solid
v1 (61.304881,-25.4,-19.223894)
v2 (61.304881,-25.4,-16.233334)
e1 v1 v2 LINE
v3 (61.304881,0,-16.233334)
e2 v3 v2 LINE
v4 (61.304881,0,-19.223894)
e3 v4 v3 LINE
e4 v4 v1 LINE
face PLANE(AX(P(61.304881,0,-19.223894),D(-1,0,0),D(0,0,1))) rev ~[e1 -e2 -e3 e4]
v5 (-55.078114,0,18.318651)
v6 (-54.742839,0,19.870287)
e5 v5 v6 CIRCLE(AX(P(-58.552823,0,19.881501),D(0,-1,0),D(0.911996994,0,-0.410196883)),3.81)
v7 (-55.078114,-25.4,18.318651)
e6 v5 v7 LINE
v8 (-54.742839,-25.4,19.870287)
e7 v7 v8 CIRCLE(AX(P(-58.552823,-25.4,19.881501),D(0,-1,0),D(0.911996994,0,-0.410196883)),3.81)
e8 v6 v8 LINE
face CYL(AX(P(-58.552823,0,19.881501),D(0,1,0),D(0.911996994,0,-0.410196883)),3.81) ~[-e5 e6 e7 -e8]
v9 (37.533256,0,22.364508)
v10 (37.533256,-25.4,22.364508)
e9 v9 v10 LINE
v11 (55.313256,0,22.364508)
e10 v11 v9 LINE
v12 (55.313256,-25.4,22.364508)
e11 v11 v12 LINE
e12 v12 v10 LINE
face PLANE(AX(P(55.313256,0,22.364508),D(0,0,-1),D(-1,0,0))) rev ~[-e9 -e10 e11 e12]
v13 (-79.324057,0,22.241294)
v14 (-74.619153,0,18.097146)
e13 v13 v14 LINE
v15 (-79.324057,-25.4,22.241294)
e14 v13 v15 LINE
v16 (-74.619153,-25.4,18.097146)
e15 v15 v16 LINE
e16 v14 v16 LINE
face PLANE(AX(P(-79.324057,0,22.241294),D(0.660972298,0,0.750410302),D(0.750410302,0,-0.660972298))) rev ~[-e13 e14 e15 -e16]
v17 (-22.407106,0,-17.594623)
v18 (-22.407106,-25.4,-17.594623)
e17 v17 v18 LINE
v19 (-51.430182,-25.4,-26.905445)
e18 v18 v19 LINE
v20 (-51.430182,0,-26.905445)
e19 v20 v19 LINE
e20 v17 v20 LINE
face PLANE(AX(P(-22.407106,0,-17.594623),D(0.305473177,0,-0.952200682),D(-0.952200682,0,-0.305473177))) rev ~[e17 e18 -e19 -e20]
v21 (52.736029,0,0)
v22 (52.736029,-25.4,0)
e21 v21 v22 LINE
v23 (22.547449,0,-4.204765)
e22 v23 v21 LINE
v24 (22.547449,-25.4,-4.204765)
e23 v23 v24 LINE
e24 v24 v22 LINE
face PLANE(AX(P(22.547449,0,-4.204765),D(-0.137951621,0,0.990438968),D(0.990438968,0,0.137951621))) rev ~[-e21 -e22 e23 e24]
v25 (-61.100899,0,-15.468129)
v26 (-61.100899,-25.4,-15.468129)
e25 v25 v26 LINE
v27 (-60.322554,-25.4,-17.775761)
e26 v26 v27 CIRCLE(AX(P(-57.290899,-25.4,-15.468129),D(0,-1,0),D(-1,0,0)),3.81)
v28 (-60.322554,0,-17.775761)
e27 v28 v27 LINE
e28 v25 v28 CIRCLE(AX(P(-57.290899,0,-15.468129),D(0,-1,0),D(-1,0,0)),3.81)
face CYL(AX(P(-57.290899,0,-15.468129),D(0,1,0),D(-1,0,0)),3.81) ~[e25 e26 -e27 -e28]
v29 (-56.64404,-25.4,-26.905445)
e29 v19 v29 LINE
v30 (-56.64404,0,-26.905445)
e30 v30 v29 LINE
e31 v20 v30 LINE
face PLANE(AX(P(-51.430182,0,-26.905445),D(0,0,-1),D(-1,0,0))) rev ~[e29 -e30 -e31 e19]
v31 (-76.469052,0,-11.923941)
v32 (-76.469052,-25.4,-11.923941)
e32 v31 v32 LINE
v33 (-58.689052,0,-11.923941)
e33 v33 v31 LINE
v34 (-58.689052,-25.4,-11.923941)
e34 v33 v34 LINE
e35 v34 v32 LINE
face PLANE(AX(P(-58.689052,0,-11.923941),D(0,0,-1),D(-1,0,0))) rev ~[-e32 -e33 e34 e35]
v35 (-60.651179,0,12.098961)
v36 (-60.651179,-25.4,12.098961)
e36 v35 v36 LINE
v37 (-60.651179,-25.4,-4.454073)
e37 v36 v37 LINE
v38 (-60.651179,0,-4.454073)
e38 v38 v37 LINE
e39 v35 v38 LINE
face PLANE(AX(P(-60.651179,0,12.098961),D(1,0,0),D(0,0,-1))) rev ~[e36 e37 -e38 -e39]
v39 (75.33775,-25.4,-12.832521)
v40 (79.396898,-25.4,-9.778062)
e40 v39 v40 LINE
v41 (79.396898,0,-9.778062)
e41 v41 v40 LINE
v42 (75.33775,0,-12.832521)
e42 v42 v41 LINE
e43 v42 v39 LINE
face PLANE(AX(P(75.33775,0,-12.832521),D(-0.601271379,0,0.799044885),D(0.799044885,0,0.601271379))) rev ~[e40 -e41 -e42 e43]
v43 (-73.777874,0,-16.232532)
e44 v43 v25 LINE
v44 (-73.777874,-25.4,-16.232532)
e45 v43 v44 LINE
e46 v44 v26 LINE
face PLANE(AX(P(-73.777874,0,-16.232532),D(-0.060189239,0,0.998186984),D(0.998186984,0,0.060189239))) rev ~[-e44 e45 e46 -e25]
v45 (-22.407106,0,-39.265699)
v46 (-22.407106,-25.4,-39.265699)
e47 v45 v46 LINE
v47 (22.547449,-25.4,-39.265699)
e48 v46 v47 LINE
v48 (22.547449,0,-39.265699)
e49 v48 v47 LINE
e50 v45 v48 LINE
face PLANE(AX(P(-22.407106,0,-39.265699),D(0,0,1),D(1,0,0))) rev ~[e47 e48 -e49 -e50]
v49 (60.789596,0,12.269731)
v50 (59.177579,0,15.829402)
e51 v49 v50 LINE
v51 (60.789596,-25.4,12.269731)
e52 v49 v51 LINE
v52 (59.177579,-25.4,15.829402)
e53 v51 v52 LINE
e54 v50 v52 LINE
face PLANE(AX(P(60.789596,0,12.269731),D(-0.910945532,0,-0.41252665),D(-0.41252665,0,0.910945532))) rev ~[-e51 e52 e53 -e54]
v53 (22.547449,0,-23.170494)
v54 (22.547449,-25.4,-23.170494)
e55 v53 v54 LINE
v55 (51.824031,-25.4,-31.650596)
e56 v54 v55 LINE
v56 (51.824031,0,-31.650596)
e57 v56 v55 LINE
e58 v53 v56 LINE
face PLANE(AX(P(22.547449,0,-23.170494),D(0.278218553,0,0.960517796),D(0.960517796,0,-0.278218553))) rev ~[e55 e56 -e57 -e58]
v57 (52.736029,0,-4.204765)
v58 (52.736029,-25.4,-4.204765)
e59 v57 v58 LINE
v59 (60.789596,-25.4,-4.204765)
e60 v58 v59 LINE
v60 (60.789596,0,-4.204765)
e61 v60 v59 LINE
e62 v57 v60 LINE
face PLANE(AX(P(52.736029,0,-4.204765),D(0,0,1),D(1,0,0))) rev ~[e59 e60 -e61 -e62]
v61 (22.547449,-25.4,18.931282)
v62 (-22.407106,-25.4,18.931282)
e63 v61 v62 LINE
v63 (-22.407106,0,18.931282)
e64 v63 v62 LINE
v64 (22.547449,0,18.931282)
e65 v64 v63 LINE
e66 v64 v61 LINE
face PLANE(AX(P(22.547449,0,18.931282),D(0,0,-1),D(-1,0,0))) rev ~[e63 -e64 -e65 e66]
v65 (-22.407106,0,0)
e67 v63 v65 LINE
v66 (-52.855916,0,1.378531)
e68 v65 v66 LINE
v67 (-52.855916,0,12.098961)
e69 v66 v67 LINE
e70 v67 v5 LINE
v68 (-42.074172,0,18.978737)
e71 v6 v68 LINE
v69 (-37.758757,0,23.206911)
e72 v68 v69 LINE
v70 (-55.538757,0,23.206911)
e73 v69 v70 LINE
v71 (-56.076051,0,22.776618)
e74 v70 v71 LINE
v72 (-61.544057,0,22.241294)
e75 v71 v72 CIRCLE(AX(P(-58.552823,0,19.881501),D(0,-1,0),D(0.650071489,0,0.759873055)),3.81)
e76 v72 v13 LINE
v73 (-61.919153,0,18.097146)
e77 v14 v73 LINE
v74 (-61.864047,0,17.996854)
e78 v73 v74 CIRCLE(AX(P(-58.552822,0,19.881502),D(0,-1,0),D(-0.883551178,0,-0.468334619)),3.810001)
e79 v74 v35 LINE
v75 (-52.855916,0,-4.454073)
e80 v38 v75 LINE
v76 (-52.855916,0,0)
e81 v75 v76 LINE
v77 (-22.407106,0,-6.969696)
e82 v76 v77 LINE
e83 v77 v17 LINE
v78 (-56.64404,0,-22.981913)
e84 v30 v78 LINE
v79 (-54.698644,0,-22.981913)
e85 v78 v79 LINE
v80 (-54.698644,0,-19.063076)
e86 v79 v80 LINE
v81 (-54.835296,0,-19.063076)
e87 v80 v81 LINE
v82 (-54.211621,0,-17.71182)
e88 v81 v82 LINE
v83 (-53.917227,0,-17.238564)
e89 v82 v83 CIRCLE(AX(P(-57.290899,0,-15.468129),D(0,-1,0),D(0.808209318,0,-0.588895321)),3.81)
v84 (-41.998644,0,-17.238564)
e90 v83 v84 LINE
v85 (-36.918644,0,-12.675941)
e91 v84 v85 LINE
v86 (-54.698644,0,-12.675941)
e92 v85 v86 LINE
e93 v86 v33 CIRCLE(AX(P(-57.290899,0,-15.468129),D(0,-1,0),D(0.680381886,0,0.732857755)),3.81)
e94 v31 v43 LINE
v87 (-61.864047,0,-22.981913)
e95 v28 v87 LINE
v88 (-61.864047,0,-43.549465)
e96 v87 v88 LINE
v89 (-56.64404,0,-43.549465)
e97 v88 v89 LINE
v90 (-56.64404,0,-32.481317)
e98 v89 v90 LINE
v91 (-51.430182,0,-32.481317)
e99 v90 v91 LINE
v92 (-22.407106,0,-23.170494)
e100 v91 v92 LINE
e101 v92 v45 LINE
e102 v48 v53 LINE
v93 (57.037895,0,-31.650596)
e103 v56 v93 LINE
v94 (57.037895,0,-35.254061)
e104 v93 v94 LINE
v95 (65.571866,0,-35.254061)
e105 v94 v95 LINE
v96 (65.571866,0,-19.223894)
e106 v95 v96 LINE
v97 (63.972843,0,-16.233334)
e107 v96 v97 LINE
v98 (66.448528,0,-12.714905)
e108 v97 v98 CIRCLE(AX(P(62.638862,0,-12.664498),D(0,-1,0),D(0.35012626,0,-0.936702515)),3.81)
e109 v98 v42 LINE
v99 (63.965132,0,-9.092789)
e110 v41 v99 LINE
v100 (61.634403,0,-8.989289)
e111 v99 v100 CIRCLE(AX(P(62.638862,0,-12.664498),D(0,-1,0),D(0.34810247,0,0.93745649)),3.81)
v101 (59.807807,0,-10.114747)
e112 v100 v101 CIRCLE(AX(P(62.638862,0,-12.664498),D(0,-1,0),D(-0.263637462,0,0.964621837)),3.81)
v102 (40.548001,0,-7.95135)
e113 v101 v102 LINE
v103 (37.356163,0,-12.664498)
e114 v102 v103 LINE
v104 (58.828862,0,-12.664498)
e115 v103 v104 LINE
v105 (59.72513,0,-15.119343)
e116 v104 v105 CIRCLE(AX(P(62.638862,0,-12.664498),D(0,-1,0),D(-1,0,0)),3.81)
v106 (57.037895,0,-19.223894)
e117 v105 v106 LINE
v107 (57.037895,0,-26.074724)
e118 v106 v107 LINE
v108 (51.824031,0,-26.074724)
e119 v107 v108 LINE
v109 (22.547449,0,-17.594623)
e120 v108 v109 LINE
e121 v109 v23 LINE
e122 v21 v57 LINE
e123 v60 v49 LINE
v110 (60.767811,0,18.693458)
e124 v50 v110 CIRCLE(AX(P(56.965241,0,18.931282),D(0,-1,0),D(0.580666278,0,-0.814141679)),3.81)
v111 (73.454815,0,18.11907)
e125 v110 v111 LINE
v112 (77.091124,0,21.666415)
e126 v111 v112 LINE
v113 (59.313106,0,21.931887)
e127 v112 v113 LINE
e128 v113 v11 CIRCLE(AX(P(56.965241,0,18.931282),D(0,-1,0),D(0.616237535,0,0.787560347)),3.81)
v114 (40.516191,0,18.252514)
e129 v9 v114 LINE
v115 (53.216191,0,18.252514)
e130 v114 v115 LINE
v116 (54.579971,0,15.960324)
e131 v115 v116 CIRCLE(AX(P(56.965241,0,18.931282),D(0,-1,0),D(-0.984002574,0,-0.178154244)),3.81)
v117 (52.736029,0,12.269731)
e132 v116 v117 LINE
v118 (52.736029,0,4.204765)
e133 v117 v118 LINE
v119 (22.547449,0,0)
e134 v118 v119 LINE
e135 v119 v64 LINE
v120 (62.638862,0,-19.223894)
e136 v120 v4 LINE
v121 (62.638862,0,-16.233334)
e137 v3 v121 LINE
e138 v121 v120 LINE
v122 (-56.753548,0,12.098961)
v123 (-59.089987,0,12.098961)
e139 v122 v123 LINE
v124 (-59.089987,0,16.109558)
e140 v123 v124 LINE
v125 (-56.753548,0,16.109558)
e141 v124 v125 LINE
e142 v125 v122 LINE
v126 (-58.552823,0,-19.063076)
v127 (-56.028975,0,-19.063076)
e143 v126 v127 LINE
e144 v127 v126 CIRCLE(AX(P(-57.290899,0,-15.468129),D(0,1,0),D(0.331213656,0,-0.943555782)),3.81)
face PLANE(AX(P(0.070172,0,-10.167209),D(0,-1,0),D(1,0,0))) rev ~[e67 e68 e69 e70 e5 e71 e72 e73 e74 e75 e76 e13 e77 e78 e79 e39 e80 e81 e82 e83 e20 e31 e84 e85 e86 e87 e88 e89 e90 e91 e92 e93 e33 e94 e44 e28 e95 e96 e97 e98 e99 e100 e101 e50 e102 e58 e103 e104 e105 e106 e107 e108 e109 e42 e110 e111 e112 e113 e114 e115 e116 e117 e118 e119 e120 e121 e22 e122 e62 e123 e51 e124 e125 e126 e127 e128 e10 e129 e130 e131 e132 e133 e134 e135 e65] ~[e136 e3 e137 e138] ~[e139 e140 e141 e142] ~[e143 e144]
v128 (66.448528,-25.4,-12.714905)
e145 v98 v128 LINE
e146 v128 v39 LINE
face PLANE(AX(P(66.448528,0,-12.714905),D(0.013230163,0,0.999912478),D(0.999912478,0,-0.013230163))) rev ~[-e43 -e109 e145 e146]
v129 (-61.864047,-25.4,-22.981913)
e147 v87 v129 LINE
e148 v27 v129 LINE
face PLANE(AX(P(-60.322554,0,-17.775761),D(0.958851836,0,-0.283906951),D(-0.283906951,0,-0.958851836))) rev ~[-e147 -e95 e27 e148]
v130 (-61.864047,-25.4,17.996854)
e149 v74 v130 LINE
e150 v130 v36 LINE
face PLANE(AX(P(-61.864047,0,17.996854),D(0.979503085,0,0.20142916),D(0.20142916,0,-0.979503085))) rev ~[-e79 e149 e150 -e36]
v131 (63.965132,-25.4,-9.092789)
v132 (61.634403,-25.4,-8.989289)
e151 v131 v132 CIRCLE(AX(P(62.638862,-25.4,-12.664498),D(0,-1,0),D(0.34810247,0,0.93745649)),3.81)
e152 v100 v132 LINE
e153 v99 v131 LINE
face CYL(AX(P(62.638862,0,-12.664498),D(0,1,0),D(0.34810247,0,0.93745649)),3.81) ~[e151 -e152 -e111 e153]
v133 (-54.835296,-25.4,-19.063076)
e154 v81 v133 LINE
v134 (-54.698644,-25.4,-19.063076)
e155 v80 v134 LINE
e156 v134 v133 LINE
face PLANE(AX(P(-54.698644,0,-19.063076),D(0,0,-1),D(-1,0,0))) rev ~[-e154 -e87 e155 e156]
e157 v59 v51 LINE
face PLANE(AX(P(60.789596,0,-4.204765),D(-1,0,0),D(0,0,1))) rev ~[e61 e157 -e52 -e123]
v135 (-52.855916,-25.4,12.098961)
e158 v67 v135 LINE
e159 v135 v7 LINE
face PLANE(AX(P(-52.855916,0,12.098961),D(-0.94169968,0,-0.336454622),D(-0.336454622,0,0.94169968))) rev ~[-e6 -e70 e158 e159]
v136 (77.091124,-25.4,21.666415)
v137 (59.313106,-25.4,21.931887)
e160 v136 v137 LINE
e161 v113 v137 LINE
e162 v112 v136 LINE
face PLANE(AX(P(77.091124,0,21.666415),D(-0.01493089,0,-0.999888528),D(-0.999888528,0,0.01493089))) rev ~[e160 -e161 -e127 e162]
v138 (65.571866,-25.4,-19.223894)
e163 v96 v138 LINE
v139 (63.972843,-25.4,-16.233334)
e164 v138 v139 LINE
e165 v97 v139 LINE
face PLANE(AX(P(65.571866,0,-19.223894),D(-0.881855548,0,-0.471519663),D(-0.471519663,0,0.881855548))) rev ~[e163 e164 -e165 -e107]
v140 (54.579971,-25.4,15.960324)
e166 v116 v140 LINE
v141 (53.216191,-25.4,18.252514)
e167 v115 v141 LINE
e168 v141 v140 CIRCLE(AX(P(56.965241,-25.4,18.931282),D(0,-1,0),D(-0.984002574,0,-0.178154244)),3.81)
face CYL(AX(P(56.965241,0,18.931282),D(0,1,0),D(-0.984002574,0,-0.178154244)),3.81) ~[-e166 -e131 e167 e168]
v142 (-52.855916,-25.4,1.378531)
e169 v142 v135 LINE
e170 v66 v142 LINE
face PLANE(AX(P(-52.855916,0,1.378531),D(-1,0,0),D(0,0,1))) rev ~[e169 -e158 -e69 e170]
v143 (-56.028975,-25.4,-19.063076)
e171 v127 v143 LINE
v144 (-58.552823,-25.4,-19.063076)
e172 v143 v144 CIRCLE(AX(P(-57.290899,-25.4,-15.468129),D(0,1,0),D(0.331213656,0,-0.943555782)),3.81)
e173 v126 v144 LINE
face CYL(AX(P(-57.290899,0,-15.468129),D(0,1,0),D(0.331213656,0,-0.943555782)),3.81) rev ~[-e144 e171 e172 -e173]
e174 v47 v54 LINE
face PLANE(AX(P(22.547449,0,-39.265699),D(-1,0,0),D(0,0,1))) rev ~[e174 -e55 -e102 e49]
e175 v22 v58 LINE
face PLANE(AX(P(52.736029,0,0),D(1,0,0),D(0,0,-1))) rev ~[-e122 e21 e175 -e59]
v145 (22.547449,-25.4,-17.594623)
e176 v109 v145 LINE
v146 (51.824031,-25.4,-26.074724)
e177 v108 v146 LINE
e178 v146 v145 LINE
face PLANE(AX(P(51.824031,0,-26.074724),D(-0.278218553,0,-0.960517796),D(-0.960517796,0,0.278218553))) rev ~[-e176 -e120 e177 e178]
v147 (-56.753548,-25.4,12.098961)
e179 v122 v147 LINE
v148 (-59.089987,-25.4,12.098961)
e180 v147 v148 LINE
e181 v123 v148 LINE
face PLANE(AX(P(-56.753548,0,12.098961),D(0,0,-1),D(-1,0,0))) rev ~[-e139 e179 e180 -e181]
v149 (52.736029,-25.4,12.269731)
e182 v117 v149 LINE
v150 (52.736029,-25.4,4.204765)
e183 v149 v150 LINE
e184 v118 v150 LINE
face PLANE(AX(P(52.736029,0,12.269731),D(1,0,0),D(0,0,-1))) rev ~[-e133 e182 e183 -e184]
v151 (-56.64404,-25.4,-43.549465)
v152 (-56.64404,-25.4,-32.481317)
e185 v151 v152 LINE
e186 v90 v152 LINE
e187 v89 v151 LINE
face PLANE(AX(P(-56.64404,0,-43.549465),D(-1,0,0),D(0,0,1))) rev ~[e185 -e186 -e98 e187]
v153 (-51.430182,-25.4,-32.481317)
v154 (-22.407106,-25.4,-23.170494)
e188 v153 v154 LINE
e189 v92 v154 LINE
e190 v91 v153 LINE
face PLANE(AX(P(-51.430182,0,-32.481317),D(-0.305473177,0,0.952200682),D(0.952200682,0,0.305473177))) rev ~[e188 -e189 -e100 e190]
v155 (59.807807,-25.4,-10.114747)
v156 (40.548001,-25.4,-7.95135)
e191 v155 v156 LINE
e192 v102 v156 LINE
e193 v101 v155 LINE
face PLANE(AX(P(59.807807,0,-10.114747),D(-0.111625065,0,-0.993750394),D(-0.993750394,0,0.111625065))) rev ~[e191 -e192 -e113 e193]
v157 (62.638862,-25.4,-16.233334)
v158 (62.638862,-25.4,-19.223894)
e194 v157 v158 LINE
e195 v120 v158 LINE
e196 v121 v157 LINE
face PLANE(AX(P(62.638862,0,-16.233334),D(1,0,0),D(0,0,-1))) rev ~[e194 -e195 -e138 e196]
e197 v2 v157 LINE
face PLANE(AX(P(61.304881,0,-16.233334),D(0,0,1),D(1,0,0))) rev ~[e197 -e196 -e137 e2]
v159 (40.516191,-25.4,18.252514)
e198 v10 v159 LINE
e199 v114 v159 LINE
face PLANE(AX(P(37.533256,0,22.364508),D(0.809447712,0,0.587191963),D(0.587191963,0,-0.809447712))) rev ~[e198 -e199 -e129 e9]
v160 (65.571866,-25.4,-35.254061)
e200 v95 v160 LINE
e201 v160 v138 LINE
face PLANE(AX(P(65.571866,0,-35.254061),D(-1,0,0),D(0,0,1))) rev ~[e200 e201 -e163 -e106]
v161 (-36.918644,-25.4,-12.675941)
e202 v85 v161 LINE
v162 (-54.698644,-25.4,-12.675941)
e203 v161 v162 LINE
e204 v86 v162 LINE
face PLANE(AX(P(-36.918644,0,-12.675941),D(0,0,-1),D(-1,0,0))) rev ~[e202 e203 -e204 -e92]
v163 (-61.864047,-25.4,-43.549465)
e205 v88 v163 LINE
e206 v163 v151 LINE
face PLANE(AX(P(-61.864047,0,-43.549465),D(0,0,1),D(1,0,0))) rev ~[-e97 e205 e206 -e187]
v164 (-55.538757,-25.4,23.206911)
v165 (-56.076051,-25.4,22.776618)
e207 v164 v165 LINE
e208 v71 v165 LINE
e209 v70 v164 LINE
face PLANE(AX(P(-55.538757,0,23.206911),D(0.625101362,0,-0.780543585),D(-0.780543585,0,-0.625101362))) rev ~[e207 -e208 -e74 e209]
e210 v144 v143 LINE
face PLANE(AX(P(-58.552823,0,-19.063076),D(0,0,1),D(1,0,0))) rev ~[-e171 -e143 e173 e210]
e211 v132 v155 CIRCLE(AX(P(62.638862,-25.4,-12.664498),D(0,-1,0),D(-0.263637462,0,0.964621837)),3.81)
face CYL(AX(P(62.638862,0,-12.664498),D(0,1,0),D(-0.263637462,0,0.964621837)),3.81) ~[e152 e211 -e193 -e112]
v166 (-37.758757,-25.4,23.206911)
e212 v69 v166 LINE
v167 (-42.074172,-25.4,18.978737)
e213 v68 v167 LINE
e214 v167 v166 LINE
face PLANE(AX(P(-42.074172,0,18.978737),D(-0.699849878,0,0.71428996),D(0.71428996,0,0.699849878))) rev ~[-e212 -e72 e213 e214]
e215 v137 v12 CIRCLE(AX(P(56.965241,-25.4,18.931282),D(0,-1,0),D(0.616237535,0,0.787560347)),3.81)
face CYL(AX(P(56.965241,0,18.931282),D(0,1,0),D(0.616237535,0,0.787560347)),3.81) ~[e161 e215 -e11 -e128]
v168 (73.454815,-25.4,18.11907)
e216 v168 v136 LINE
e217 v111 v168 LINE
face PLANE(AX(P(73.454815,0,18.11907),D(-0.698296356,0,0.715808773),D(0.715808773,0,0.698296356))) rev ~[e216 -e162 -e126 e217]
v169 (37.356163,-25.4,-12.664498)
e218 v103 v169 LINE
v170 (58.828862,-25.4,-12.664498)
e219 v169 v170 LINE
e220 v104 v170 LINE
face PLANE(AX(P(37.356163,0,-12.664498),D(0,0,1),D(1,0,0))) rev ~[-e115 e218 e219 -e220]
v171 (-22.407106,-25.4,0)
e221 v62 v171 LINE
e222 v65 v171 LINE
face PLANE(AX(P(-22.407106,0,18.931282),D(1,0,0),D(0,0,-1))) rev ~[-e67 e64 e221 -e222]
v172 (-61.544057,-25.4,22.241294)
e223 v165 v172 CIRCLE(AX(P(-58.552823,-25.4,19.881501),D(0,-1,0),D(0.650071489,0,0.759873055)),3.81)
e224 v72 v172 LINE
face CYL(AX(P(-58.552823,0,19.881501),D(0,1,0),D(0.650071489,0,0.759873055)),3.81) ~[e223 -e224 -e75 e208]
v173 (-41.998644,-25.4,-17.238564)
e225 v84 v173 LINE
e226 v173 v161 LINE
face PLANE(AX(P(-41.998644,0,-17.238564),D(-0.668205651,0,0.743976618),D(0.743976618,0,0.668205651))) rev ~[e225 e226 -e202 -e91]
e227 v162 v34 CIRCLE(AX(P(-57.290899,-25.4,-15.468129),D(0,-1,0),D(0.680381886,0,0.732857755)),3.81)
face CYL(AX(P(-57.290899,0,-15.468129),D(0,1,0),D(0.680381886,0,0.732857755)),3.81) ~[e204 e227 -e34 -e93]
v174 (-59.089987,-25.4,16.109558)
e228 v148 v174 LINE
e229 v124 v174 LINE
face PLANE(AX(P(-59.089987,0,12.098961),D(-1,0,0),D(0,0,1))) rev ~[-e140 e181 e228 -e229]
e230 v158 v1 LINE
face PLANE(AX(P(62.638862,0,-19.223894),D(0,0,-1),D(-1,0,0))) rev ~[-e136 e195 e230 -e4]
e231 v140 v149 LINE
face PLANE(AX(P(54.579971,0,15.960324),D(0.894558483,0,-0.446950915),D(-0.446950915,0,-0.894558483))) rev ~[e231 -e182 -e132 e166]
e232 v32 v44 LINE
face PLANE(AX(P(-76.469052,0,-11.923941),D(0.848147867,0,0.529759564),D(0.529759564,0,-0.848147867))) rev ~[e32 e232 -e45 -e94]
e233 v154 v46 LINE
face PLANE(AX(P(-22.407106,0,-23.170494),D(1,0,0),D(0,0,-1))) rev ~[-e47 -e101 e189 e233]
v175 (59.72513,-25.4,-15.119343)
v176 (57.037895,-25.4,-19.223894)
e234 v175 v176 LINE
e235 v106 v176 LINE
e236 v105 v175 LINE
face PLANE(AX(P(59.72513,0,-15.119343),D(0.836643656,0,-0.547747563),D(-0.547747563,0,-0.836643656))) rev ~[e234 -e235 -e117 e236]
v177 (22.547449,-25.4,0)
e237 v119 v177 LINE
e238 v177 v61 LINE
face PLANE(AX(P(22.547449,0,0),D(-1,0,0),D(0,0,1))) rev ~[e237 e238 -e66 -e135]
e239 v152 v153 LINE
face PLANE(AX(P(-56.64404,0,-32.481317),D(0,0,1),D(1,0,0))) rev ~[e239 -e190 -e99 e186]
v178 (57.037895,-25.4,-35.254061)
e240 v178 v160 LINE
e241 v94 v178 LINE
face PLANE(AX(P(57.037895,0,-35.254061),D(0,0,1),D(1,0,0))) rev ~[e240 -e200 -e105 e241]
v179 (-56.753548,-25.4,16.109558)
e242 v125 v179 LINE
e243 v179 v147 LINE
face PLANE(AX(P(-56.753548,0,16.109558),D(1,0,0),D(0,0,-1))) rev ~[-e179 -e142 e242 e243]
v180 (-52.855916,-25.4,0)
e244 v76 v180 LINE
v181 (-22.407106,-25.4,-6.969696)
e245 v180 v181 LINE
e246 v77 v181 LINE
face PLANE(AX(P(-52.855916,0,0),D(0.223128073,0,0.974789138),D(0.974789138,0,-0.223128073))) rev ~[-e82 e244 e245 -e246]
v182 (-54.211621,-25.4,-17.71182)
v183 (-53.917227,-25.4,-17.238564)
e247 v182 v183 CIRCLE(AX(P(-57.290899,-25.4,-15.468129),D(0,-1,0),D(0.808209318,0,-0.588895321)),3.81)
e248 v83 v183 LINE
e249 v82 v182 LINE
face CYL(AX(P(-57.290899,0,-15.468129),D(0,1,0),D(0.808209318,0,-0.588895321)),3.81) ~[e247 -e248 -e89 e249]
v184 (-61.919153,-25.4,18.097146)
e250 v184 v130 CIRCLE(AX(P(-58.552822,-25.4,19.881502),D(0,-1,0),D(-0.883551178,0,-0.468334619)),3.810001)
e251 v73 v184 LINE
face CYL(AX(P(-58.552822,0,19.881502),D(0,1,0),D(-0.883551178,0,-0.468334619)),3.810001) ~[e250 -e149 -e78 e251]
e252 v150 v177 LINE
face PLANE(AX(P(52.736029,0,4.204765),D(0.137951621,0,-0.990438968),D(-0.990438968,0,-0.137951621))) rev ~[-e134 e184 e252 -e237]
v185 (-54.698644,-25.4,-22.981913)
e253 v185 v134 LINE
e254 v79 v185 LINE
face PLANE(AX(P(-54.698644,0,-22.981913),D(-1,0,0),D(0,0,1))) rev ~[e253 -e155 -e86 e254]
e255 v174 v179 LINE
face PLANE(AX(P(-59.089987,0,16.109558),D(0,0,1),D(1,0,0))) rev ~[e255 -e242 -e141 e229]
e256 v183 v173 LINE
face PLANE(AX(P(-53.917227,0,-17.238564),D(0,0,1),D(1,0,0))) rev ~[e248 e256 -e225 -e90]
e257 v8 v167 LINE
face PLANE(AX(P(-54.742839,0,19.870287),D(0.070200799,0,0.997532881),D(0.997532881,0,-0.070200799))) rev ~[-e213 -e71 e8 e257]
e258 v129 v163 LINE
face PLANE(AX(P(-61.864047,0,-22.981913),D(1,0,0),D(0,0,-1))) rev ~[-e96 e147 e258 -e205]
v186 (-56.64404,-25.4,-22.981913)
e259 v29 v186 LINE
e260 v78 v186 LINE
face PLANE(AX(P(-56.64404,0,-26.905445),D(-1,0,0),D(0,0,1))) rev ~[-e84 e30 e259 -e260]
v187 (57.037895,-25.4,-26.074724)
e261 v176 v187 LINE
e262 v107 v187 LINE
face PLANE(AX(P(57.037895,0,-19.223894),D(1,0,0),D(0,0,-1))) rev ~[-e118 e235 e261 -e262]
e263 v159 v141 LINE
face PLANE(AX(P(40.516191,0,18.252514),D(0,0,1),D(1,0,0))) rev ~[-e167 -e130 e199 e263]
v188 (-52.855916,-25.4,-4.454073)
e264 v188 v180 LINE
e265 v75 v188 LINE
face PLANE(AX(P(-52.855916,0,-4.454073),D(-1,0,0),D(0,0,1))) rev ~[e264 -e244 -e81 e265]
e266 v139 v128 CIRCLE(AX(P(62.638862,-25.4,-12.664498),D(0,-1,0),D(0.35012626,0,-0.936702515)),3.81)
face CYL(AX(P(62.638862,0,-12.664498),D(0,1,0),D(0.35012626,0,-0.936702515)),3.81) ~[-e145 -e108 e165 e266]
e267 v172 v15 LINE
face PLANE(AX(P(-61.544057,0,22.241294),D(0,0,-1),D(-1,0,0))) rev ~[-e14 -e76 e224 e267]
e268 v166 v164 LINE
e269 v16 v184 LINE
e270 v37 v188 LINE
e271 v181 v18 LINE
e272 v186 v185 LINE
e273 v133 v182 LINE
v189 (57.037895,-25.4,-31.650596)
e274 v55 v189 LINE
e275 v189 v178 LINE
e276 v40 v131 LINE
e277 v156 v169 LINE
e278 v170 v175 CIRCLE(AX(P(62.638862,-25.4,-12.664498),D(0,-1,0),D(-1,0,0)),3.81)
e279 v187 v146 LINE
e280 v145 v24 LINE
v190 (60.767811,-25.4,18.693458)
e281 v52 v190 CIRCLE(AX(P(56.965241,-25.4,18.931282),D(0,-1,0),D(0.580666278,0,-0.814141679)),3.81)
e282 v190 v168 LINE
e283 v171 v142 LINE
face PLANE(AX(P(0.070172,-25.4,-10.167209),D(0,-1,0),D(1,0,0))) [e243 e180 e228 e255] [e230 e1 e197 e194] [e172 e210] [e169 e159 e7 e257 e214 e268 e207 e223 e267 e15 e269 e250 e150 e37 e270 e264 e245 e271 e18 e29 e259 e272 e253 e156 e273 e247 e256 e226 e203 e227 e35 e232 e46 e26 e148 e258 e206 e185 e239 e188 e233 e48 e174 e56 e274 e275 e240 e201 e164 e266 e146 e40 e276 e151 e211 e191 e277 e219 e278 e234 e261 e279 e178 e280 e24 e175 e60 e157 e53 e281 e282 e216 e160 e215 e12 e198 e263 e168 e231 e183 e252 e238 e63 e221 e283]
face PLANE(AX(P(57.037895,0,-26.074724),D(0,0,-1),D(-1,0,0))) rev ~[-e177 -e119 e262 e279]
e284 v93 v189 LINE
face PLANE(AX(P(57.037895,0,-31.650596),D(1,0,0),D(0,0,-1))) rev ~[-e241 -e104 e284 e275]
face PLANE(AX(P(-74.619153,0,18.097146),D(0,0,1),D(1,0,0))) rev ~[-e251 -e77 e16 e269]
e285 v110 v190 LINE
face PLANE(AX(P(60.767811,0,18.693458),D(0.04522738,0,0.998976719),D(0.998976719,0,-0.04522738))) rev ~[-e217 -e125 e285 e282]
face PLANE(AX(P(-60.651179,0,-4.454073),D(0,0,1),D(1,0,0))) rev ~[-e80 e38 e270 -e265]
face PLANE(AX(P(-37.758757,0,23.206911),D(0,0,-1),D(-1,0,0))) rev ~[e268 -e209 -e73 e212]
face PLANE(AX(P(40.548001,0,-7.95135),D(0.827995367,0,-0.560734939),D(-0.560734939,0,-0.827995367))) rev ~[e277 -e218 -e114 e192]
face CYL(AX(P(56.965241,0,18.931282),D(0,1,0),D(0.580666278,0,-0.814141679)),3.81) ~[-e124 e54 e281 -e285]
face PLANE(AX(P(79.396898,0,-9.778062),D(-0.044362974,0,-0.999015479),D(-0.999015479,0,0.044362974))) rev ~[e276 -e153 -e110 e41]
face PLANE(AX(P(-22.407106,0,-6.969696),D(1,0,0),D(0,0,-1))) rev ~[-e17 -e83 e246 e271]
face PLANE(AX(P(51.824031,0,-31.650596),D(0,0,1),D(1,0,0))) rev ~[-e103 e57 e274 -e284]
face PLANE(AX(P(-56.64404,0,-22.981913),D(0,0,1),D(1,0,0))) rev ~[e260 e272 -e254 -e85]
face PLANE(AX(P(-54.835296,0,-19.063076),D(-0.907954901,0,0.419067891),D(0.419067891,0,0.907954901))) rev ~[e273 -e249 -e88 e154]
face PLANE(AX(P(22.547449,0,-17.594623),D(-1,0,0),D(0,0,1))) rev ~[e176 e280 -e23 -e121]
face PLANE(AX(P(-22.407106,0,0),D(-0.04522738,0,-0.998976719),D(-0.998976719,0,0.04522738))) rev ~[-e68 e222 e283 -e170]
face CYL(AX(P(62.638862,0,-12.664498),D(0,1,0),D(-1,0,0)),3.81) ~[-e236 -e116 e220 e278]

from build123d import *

# Parameters (mm, degrees)
F1_DEPTH = 25.4


with BuildPart() as f1:
    # F0 (on Front) → F1 (new body)
    with BuildSketch(Plane.XZ):
        Polygon((22.5474490715, 18.9312816523), (-22.4071055408, 18.9312816523), (-22.4071055408, 0), (-22.4071055408, -6.9696964332), (-22.4071055408, -17.594622799), (-22.4071055408, -23.1704941269), (-22.4071055408, -39.2656994748), (22.5474490715, -39.2656994748), (22.5474490715, -23.1704941269), (22.5474490715, -17.594622799), (22.5474490715, -4.2047654179), (22.5474490715, 0), align=None)
        Polygon((-22.4071055408, -6.9696964332), (-22.4071055408, 0), (-52.8559159213, 1.3785305276), (-52.8559159213, 12.0989607125), (-56.7535475108, 12.0989607125), (-59.089986937, 12.0989607125), (-60.6511791004, 12.0989607125), (-60.6511791004, 1.3785305276), (-60.6511791004, -4.4540729796), (-52.8559159213, -4.4540729796), (-52.8559159213, 0), align=None)
        Polygon((52.7360288291, 4.2047654179), (22.5474490715, 0), (22.5474490715, -4.2047654179), (52.7360288291, 0), (52.7360288291, -4.2047654179), (60.7895958687, -4.2047654179), (60.7895958687, 12.2697306797), (59.0926311994, 12.2697306797), (56.7628123489, 12.2697306797), (52.7360288291, 12.2697306797), align=None)
        Polygon((-22.4071055408, -23.1704941269), (-22.4071055408, -17.594622799), (-51.4301823175, -26.9054452341), (-56.6440403175, -26.9054452341), (-56.6440403175, -22.9819128912), (-58.5528229446, -22.9819128912), (-61.8640467567, -22.9819128912), (-61.8640467567, -43.5494654834), (-56.6440403175, -43.5494654834), (-56.6440403175, -32.481316562), (-51.4301823175, -32.481316562), align=None)
        with BuildLine():
            Line((-56.7535475108, 12.0989607125), (-52.8559159213, 12.0989607125))
            Line((-52.8559159213, 12.0989607125), (-55.078114397, 18.3186511549))
            ThreePointArc((-55.078114397, 18.3186511549), (-56.262887732, 16.8364566613), (-58.0156589521, 16.1095581661))
            Line((-58.0156589521, 16.1095581661), (-56.7535475108, 16.1095581661))
            Line((-56.7535475108, 16.1095581661), (-56.7535475108, 12.0989607125))
        make_face()
        Polygon((51.8240314995, -26.0747242923), (22.5474490715, -17.594622799), (22.5474490715, -23.1704941269), (51.8240314995, -31.6505956202), (57.037895267, -31.6505956202), (57.037895267, -35.2540606945), (65.5718660751, -35.2540606945), (65.5718660751, -19.2238938555), (62.6388617216, -19.2238938555), (61.3048806711, -19.2238938555), (57.037895267, -19.2238938555), (57.037895267, -26.0747242923), align=None)
        with BuildLine():
            Line((54.5799710571, 15.960324229), (52.7360288291, 12.2697306797))
            Line((52.7360288291, 12.2697306797), (56.7628123489, 12.2697306797))
            Line((56.7628123489, 12.2697306797), (59.0926311994, 12.2697306797))
            Line((59.0926311994, 12.2697306797), (60.7895958687, 12.2697306797))
            Line((60.7895958687, 12.2697306797), (59.1775793711, 15.8294018559))
            ThreePointArc((59.1775793711, 15.8294018559), (56.8567905245, 15.1228254655), (54.5799710571, 15.960324229))
        make_face()
        with BuildLine():
            Line((-54.7428394485, 19.8702869995), (-55.078114397, 18.3186511549))
            ThreePointArc((-55.078114397, 18.3186511549), (-54.8287689719, 19.0768137561), (-54.7428394485, 19.8702869995))
        make_face()
        with BuildLine():
            ThreePointArc((-58.0156589521, 16.1095581661), (-56.262887732, 16.8364566613), (-55.078114397, 18.3186511549))
            Line((-55.078114397, 18.3186511549), (-54.7428394485, 19.8702869995))
            ThreePointArc((-54.7428394485, 19.8702869995), (-54.7428270706, 19.8758941331), (-54.7428229446, 19.8815012788))
            ThreePointArc((-54.7428229446, 19.8815012788), (-55.0921436229, 21.4751758479), (-56.0760505732, 22.7766176184))
            Line((-56.0760505732, 22.7766176184), (-61.919152939, 18.0971463901))
            ThreePointArc((-61.919152939, 18.0971463901), (-61.8919764107, 18.0467930924), (-61.8640467567, 17.9968536019))
            ThreePointArc((-61.8640467567, 17.9968536019), (-60.6959499098, 16.7314049611), (-59.089986937, 16.1095581661))
            Line((-59.089986937, 16.1095581661), (-58.0156589521, 16.1095581661))
        make_face()
        with BuildLine():
            ThreePointArc((53.2161910443, 18.2525139833), (53.6909466204, 16.983180707), (54.5799710571, 15.960324229))
            ThreePointArc((54.5799710571, 15.960324229), (56.8567905245, 15.1228254655), (59.1775793711, 15.8294018559))
            ThreePointArc((59.1775793711, 15.8294018559), (60.2962294962, 17.0817912782), (60.7678109959, 18.6934575763))
            ThreePointArc((60.7678109959, 18.6934575763), (60.7733829341, 18.8123115995), (60.7752408508, 18.9312816523))
            ThreePointArc((60.7752408508, 18.9312816523), (60.3902565943, 20.6002235797), (59.3131058603, 21.9318865742))
            ThreePointArc((59.3131058603, 21.9318865742), (57.3749391018, 22.7191896954), (55.3132558722, 22.3645083606))
            ThreePointArc((55.3132558722, 22.3645083606), (53.5711402885, 20.6622297662), (53.2161910443, 18.2525139833))
        make_face()
        with BuildLine():
            Line((-60.6511791004, 12.0989607125), (-59.089986937, 12.0989607125))
            Line((-59.089986937, 12.0989607125), (-59.089986937, 16.1095581661))
            ThreePointArc((-59.089986937, 16.1095581661), (-60.6959499098, 16.7314049611), (-61.8640467567, 17.9968536019))
            Line((-61.8640467567, 17.9968536019), (-60.6511791004, 12.0989607125))
        make_face()
        with BuildLine():
            ThreePointArc((-54.7428229446, 19.8815012788), (-54.7428270706, 19.8758941331), (-54.7428394485, 19.8702869995))
            Line((-54.7428394485, 19.8702869995), (-42.0741718651, 18.9787368555))
            Line((-42.0741718651, 18.9787368555), (-37.7587572973, 23.2069110257))
            Line((-37.7587572973, 23.2069110257), (-55.5387572973, 23.2069110257))
            Line((-55.5387572973, 23.2069110257), (-56.0760505732, 22.7766176184))
            ThreePointArc((-56.0760505732, 22.7766176184), (-55.0921436229, 21.4751758479), (-54.7428229446, 19.8815012788))
        make_face()
        with BuildLine():
            Line((40.5161910443, 18.2525139833), (53.2161910443, 18.2525139833))
            ThreePointArc((53.2161910443, 18.2525139833), (53.5711402885, 20.6622297662), (55.3132558722, 22.3645083606))
            Line((55.3132558722, 22.3645083606), (37.5332558722, 22.3645083606))
            Line((37.5332558722, 22.3645083606), (40.5161910443, 18.2525139833))
        make_face()
        Polygon((-54.8352957317, -19.0630764722), (-56.6440403175, -22.9819128912), (-54.6986439291, -22.9819128912), (-54.6986439291, -19.0630764722), align=None)
        with BuildLine():
            Line((-58.5528229446, -22.9819128912), (-56.6440403175, -22.9819128912))
            Line((-56.6440403175, -22.9819128912), (-54.8352957317, -19.0630764722))
            Line((-54.8352957317, -19.0630764722), (-56.0289748879, -19.0630764722))
            ThreePointArc((-56.0289748879, -19.0630764722), (-57.2908989162, -19.2781289417), (-58.5528229446, -19.0630764722))
            Line((-58.5528229446, -19.0630764722), (-58.5528229446, -22.9819128912))
        make_face()
        with BuildLine():
            Line((59.7251296844, -15.1193431804), (57.037895267, -19.2238938555))
            Line((57.037895267, -19.2238938555), (61.3048806711, -19.2238938555))
            Line((61.3048806711, -19.2238938555), (61.3048806711, -16.2333344292))
            ThreePointArc((61.3048806711, -16.2333344292), (60.4431817029, -15.7781916743), (59.7251296844, -15.1193431804))
        make_face()
        with BuildLine():
            ThreePointArc((60.7752408508, 18.9312816523), (60.7733829341, 18.8123115995), (60.7678109959, 18.6934575763))
            Line((60.7678109959, 18.6934575763), (73.4548153211, 18.1190698564))
            Line((73.4548153211, 18.1190698564), (77.0911238889, 21.6664153429))
            Line((77.0911238889, 21.6664153429), (59.3131058603, 21.9318865742))
            ThreePointArc((59.3131058603, 21.9318865742), (60.3902565943, 20.6002235797), (60.7752408508, 18.9312816523))
        make_face()
        with BuildLine():
            Line((-61.8640467567, -22.9819128912), (-58.5528229446, -22.9819128912))
            Line((-58.5528229446, -22.9819128912), (-58.5528229446, -19.0630764722))
            ThreePointArc((-58.5528229446, -19.0630764722), (-59.5321043266, -18.5492161376), (-60.3225544192, -17.7757608255))
            Line((-60.3225544192, -17.7757608255), (-61.8640467567, -22.9819128912))
        make_face()
        with BuildLine():
            Line((-56.0289748879, -19.0630764722), (-54.8352957317, -19.0630764722))
            Line((-54.8352957317, -19.0630764722), (-54.211621416, -17.7118201141))
            ThreePointArc((-54.211621416, -17.7118201141), (-55.0175795119, -18.5255983015), (-56.0289748879, -19.0630764722))
        make_face()
        with BuildLine():
            Line((-61.919152939, 18.0971463901), (-56.0760505732, 22.7766176184))
            ThreePointArc((-56.0760505732, 22.7766176184), (-58.9240512759, 23.6733727858), (-61.5440566002, 22.2412939005))
            ThreePointArc((-61.5440566002, 22.2412939005), (-62.3473115185, 20.2249491816), (-61.919152939, 18.0971463901))
        make_face()
        with BuildLine():
            ThreePointArc((58.8288617216, -12.6644978461), (59.0599359706, -13.9711693691), (59.7251296844, -15.1193431804))
            ThreePointArc((59.7251296844, -15.1193431804), (60.4431817029, -15.7781916743), (61.3048806711, -16.2333344292))
            Line((61.3048806711, -16.2333344292), (62.6388617216, -16.2333344292))
            Line((62.6388617216, -16.2333344292), (62.6388617216, -16.4744978461))
            ThreePointArc((62.6388617216, -16.4744978461), (63.3166642807, -16.413722258), (63.972842772, -16.2333344292))
            ThreePointArc((63.972842772, -16.2333344292), (65.7548069155, -14.8569817226), (66.4485282611, -12.7149047688))
            ThreePointArc((66.4485282611, -12.7149047688), (66.4487783555, -12.6897018589), (66.4488617216, -12.6644978461))
            ThreePointArc((66.4488617216, -12.6644978461), (65.7668954697, -10.4892955864), (63.9651321307, -9.0927886191))
            Line((63.9651321307, -9.0927886191), (61.6344029934, -8.9892886461))
            ThreePointArc((61.6344029934, -8.9892886461), (60.6402483125, -9.4207894065), (59.8078067825, -10.1147472834))
            ThreePointArc((59.8078067825, -10.1147472834), (59.0820078225, -11.2988879673), (58.8288617216, -12.6644978461))
        make_face()
        with BuildLine():
            ThreePointArc((-60.3225544192, -17.7757608255), (-59.5321043266, -18.5492161376), (-58.5528229446, -19.0630764722))
            Line((-58.5528229446, -19.0630764722), (-56.0289748879, -19.0630764722))
            ThreePointArc((-56.0289748879, -19.0630764722), (-55.0175795119, -18.5255983015), (-54.211621416, -17.7118201141))
            ThreePointArc((-54.211621416, -17.7118201141), (-54.0557588566, -17.4805823684), (-53.9172272287, -17.2385637315))
            ThreePointArc((-53.9172272287, -17.2385637315), (-53.5915889042, -16.3798336282), (-53.4808989162, -15.4681289417))
            ThreePointArc((-53.4808989162, -15.4681289417), (-53.7985793789, -13.9450385801), (-54.6986439291, -12.6759408961))
            ThreePointArc((-54.6986439291, -12.6759408961), (-56.5853171419, -11.7240330082), (-58.689052199, -11.9239411084))
            ThreePointArc((-58.689052199, -11.9239411084), (-60.4407452623, -13.3246345992), (-61.1008989162, -15.4681289417))
            ThreePointArc((-61.1008989162, -15.4681289417), (-60.9010725593, -16.6858096334), (-60.3225544192, -17.7757608255))
        make_face()
        with BuildLine():
            Line((-74.619152939, 18.0971463901), (-61.919152939, 18.0971463901))
            ThreePointArc((-61.919152939, 18.0971463901), (-62.3473115185, 20.2249491816), (-61.5440566002, 22.2412939005))
            Line((-61.5440566002, 22.2412939005), (-79.3240566002, 22.2412939005))
            Line((-79.3240566002, 22.2412939005), (-74.619152939, 18.0971463901))
        make_face()
        with BuildLine():
            Line((62.6388617216, -16.4744978461), (62.6388617216, -19.2238938555))
            Line((62.6388617216, -19.2238938555), (65.5718660751, -19.2238938555))
            Line((65.5718660751, -19.2238938555), (63.972842772, -16.2333344292))
            ThreePointArc((63.972842772, -16.2333344292), (63.3166642807, -16.413722258), (62.6388617216, -16.4744978461))
        make_face()
        with BuildLine():
            Line((37.3561628626, -12.6644978461), (58.8288617216, -12.6644978461))
            ThreePointArc((58.8288617216, -12.6644978461), (59.0820078225, -11.2988879673), (59.8078067825, -10.1147472834))
            Line((59.8078067825, -10.1147472834), (40.5480005181, -7.951349779))
            Line((40.5480005181, -7.951349779), (37.3561628626, -12.6644978461))
        make_face()
        with BuildLine():
            ThreePointArc((-53.4808989162, -15.4681289417), (-53.5915889042, -16.3798336282), (-53.9172272287, -17.2385637315))
            Line((-53.9172272287, -17.2385637315), (-41.9986439291, -17.2385637315))
            Line((-41.9986439291, -17.2385637315), (-36.9186439291, -12.6759408961))
            Line((-36.9186439291, -12.6759408961), (-54.6986439291, -12.6759408961))
            ThreePointArc((-54.6986439291, -12.6759408961), (-53.7985793789, -13.9450385801), (-53.4808989162, -15.4681289417))
        make_face()
        with BuildLine():
            Line((-73.7778736162, -16.2325322744), (-61.1008989162, -15.4681289417))
            ThreePointArc((-61.1008989162, -15.4681289417), (-60.4407452623, -13.3246345992), (-58.689052199, -11.9239411084))
            Line((-58.689052199, -11.9239411084), (-76.469052199, -11.9239411084))
            Line((-76.469052199, -11.9239411084), (-73.7778736162, -16.2325322744))
        make_face()
        with BuildLine():
            ThreePointArc((63.9651321307, -9.0927886191), (62.8078846508, -8.8582488724), (61.6344029934, -8.9892886461))
            Line((61.6344029934, -8.9892886461), (63.9651321307, -9.0927886191))
        make_face()
        with BuildLine():
            ThreePointArc((66.4488617216, -12.6644978461), (66.4487783555, -12.6897018589), (66.4485282611, -12.7149047688))
            Line((66.4485282611, -12.7149047688), (75.3377501865, -12.8325209217))
            Line((75.3377501865, -12.8325209217), (79.3968982037, -9.7780623159))
            Line((79.3968982037, -9.7780623159), (63.9651321307, -9.0927886191))
            ThreePointArc((63.9651321307, -9.0927886191), (65.7668954697, -10.4892955864), (66.4488617216, -12.6644978461))
        make_face()
    extrude(amount=F1_DEPTH)


solid = f1.part
